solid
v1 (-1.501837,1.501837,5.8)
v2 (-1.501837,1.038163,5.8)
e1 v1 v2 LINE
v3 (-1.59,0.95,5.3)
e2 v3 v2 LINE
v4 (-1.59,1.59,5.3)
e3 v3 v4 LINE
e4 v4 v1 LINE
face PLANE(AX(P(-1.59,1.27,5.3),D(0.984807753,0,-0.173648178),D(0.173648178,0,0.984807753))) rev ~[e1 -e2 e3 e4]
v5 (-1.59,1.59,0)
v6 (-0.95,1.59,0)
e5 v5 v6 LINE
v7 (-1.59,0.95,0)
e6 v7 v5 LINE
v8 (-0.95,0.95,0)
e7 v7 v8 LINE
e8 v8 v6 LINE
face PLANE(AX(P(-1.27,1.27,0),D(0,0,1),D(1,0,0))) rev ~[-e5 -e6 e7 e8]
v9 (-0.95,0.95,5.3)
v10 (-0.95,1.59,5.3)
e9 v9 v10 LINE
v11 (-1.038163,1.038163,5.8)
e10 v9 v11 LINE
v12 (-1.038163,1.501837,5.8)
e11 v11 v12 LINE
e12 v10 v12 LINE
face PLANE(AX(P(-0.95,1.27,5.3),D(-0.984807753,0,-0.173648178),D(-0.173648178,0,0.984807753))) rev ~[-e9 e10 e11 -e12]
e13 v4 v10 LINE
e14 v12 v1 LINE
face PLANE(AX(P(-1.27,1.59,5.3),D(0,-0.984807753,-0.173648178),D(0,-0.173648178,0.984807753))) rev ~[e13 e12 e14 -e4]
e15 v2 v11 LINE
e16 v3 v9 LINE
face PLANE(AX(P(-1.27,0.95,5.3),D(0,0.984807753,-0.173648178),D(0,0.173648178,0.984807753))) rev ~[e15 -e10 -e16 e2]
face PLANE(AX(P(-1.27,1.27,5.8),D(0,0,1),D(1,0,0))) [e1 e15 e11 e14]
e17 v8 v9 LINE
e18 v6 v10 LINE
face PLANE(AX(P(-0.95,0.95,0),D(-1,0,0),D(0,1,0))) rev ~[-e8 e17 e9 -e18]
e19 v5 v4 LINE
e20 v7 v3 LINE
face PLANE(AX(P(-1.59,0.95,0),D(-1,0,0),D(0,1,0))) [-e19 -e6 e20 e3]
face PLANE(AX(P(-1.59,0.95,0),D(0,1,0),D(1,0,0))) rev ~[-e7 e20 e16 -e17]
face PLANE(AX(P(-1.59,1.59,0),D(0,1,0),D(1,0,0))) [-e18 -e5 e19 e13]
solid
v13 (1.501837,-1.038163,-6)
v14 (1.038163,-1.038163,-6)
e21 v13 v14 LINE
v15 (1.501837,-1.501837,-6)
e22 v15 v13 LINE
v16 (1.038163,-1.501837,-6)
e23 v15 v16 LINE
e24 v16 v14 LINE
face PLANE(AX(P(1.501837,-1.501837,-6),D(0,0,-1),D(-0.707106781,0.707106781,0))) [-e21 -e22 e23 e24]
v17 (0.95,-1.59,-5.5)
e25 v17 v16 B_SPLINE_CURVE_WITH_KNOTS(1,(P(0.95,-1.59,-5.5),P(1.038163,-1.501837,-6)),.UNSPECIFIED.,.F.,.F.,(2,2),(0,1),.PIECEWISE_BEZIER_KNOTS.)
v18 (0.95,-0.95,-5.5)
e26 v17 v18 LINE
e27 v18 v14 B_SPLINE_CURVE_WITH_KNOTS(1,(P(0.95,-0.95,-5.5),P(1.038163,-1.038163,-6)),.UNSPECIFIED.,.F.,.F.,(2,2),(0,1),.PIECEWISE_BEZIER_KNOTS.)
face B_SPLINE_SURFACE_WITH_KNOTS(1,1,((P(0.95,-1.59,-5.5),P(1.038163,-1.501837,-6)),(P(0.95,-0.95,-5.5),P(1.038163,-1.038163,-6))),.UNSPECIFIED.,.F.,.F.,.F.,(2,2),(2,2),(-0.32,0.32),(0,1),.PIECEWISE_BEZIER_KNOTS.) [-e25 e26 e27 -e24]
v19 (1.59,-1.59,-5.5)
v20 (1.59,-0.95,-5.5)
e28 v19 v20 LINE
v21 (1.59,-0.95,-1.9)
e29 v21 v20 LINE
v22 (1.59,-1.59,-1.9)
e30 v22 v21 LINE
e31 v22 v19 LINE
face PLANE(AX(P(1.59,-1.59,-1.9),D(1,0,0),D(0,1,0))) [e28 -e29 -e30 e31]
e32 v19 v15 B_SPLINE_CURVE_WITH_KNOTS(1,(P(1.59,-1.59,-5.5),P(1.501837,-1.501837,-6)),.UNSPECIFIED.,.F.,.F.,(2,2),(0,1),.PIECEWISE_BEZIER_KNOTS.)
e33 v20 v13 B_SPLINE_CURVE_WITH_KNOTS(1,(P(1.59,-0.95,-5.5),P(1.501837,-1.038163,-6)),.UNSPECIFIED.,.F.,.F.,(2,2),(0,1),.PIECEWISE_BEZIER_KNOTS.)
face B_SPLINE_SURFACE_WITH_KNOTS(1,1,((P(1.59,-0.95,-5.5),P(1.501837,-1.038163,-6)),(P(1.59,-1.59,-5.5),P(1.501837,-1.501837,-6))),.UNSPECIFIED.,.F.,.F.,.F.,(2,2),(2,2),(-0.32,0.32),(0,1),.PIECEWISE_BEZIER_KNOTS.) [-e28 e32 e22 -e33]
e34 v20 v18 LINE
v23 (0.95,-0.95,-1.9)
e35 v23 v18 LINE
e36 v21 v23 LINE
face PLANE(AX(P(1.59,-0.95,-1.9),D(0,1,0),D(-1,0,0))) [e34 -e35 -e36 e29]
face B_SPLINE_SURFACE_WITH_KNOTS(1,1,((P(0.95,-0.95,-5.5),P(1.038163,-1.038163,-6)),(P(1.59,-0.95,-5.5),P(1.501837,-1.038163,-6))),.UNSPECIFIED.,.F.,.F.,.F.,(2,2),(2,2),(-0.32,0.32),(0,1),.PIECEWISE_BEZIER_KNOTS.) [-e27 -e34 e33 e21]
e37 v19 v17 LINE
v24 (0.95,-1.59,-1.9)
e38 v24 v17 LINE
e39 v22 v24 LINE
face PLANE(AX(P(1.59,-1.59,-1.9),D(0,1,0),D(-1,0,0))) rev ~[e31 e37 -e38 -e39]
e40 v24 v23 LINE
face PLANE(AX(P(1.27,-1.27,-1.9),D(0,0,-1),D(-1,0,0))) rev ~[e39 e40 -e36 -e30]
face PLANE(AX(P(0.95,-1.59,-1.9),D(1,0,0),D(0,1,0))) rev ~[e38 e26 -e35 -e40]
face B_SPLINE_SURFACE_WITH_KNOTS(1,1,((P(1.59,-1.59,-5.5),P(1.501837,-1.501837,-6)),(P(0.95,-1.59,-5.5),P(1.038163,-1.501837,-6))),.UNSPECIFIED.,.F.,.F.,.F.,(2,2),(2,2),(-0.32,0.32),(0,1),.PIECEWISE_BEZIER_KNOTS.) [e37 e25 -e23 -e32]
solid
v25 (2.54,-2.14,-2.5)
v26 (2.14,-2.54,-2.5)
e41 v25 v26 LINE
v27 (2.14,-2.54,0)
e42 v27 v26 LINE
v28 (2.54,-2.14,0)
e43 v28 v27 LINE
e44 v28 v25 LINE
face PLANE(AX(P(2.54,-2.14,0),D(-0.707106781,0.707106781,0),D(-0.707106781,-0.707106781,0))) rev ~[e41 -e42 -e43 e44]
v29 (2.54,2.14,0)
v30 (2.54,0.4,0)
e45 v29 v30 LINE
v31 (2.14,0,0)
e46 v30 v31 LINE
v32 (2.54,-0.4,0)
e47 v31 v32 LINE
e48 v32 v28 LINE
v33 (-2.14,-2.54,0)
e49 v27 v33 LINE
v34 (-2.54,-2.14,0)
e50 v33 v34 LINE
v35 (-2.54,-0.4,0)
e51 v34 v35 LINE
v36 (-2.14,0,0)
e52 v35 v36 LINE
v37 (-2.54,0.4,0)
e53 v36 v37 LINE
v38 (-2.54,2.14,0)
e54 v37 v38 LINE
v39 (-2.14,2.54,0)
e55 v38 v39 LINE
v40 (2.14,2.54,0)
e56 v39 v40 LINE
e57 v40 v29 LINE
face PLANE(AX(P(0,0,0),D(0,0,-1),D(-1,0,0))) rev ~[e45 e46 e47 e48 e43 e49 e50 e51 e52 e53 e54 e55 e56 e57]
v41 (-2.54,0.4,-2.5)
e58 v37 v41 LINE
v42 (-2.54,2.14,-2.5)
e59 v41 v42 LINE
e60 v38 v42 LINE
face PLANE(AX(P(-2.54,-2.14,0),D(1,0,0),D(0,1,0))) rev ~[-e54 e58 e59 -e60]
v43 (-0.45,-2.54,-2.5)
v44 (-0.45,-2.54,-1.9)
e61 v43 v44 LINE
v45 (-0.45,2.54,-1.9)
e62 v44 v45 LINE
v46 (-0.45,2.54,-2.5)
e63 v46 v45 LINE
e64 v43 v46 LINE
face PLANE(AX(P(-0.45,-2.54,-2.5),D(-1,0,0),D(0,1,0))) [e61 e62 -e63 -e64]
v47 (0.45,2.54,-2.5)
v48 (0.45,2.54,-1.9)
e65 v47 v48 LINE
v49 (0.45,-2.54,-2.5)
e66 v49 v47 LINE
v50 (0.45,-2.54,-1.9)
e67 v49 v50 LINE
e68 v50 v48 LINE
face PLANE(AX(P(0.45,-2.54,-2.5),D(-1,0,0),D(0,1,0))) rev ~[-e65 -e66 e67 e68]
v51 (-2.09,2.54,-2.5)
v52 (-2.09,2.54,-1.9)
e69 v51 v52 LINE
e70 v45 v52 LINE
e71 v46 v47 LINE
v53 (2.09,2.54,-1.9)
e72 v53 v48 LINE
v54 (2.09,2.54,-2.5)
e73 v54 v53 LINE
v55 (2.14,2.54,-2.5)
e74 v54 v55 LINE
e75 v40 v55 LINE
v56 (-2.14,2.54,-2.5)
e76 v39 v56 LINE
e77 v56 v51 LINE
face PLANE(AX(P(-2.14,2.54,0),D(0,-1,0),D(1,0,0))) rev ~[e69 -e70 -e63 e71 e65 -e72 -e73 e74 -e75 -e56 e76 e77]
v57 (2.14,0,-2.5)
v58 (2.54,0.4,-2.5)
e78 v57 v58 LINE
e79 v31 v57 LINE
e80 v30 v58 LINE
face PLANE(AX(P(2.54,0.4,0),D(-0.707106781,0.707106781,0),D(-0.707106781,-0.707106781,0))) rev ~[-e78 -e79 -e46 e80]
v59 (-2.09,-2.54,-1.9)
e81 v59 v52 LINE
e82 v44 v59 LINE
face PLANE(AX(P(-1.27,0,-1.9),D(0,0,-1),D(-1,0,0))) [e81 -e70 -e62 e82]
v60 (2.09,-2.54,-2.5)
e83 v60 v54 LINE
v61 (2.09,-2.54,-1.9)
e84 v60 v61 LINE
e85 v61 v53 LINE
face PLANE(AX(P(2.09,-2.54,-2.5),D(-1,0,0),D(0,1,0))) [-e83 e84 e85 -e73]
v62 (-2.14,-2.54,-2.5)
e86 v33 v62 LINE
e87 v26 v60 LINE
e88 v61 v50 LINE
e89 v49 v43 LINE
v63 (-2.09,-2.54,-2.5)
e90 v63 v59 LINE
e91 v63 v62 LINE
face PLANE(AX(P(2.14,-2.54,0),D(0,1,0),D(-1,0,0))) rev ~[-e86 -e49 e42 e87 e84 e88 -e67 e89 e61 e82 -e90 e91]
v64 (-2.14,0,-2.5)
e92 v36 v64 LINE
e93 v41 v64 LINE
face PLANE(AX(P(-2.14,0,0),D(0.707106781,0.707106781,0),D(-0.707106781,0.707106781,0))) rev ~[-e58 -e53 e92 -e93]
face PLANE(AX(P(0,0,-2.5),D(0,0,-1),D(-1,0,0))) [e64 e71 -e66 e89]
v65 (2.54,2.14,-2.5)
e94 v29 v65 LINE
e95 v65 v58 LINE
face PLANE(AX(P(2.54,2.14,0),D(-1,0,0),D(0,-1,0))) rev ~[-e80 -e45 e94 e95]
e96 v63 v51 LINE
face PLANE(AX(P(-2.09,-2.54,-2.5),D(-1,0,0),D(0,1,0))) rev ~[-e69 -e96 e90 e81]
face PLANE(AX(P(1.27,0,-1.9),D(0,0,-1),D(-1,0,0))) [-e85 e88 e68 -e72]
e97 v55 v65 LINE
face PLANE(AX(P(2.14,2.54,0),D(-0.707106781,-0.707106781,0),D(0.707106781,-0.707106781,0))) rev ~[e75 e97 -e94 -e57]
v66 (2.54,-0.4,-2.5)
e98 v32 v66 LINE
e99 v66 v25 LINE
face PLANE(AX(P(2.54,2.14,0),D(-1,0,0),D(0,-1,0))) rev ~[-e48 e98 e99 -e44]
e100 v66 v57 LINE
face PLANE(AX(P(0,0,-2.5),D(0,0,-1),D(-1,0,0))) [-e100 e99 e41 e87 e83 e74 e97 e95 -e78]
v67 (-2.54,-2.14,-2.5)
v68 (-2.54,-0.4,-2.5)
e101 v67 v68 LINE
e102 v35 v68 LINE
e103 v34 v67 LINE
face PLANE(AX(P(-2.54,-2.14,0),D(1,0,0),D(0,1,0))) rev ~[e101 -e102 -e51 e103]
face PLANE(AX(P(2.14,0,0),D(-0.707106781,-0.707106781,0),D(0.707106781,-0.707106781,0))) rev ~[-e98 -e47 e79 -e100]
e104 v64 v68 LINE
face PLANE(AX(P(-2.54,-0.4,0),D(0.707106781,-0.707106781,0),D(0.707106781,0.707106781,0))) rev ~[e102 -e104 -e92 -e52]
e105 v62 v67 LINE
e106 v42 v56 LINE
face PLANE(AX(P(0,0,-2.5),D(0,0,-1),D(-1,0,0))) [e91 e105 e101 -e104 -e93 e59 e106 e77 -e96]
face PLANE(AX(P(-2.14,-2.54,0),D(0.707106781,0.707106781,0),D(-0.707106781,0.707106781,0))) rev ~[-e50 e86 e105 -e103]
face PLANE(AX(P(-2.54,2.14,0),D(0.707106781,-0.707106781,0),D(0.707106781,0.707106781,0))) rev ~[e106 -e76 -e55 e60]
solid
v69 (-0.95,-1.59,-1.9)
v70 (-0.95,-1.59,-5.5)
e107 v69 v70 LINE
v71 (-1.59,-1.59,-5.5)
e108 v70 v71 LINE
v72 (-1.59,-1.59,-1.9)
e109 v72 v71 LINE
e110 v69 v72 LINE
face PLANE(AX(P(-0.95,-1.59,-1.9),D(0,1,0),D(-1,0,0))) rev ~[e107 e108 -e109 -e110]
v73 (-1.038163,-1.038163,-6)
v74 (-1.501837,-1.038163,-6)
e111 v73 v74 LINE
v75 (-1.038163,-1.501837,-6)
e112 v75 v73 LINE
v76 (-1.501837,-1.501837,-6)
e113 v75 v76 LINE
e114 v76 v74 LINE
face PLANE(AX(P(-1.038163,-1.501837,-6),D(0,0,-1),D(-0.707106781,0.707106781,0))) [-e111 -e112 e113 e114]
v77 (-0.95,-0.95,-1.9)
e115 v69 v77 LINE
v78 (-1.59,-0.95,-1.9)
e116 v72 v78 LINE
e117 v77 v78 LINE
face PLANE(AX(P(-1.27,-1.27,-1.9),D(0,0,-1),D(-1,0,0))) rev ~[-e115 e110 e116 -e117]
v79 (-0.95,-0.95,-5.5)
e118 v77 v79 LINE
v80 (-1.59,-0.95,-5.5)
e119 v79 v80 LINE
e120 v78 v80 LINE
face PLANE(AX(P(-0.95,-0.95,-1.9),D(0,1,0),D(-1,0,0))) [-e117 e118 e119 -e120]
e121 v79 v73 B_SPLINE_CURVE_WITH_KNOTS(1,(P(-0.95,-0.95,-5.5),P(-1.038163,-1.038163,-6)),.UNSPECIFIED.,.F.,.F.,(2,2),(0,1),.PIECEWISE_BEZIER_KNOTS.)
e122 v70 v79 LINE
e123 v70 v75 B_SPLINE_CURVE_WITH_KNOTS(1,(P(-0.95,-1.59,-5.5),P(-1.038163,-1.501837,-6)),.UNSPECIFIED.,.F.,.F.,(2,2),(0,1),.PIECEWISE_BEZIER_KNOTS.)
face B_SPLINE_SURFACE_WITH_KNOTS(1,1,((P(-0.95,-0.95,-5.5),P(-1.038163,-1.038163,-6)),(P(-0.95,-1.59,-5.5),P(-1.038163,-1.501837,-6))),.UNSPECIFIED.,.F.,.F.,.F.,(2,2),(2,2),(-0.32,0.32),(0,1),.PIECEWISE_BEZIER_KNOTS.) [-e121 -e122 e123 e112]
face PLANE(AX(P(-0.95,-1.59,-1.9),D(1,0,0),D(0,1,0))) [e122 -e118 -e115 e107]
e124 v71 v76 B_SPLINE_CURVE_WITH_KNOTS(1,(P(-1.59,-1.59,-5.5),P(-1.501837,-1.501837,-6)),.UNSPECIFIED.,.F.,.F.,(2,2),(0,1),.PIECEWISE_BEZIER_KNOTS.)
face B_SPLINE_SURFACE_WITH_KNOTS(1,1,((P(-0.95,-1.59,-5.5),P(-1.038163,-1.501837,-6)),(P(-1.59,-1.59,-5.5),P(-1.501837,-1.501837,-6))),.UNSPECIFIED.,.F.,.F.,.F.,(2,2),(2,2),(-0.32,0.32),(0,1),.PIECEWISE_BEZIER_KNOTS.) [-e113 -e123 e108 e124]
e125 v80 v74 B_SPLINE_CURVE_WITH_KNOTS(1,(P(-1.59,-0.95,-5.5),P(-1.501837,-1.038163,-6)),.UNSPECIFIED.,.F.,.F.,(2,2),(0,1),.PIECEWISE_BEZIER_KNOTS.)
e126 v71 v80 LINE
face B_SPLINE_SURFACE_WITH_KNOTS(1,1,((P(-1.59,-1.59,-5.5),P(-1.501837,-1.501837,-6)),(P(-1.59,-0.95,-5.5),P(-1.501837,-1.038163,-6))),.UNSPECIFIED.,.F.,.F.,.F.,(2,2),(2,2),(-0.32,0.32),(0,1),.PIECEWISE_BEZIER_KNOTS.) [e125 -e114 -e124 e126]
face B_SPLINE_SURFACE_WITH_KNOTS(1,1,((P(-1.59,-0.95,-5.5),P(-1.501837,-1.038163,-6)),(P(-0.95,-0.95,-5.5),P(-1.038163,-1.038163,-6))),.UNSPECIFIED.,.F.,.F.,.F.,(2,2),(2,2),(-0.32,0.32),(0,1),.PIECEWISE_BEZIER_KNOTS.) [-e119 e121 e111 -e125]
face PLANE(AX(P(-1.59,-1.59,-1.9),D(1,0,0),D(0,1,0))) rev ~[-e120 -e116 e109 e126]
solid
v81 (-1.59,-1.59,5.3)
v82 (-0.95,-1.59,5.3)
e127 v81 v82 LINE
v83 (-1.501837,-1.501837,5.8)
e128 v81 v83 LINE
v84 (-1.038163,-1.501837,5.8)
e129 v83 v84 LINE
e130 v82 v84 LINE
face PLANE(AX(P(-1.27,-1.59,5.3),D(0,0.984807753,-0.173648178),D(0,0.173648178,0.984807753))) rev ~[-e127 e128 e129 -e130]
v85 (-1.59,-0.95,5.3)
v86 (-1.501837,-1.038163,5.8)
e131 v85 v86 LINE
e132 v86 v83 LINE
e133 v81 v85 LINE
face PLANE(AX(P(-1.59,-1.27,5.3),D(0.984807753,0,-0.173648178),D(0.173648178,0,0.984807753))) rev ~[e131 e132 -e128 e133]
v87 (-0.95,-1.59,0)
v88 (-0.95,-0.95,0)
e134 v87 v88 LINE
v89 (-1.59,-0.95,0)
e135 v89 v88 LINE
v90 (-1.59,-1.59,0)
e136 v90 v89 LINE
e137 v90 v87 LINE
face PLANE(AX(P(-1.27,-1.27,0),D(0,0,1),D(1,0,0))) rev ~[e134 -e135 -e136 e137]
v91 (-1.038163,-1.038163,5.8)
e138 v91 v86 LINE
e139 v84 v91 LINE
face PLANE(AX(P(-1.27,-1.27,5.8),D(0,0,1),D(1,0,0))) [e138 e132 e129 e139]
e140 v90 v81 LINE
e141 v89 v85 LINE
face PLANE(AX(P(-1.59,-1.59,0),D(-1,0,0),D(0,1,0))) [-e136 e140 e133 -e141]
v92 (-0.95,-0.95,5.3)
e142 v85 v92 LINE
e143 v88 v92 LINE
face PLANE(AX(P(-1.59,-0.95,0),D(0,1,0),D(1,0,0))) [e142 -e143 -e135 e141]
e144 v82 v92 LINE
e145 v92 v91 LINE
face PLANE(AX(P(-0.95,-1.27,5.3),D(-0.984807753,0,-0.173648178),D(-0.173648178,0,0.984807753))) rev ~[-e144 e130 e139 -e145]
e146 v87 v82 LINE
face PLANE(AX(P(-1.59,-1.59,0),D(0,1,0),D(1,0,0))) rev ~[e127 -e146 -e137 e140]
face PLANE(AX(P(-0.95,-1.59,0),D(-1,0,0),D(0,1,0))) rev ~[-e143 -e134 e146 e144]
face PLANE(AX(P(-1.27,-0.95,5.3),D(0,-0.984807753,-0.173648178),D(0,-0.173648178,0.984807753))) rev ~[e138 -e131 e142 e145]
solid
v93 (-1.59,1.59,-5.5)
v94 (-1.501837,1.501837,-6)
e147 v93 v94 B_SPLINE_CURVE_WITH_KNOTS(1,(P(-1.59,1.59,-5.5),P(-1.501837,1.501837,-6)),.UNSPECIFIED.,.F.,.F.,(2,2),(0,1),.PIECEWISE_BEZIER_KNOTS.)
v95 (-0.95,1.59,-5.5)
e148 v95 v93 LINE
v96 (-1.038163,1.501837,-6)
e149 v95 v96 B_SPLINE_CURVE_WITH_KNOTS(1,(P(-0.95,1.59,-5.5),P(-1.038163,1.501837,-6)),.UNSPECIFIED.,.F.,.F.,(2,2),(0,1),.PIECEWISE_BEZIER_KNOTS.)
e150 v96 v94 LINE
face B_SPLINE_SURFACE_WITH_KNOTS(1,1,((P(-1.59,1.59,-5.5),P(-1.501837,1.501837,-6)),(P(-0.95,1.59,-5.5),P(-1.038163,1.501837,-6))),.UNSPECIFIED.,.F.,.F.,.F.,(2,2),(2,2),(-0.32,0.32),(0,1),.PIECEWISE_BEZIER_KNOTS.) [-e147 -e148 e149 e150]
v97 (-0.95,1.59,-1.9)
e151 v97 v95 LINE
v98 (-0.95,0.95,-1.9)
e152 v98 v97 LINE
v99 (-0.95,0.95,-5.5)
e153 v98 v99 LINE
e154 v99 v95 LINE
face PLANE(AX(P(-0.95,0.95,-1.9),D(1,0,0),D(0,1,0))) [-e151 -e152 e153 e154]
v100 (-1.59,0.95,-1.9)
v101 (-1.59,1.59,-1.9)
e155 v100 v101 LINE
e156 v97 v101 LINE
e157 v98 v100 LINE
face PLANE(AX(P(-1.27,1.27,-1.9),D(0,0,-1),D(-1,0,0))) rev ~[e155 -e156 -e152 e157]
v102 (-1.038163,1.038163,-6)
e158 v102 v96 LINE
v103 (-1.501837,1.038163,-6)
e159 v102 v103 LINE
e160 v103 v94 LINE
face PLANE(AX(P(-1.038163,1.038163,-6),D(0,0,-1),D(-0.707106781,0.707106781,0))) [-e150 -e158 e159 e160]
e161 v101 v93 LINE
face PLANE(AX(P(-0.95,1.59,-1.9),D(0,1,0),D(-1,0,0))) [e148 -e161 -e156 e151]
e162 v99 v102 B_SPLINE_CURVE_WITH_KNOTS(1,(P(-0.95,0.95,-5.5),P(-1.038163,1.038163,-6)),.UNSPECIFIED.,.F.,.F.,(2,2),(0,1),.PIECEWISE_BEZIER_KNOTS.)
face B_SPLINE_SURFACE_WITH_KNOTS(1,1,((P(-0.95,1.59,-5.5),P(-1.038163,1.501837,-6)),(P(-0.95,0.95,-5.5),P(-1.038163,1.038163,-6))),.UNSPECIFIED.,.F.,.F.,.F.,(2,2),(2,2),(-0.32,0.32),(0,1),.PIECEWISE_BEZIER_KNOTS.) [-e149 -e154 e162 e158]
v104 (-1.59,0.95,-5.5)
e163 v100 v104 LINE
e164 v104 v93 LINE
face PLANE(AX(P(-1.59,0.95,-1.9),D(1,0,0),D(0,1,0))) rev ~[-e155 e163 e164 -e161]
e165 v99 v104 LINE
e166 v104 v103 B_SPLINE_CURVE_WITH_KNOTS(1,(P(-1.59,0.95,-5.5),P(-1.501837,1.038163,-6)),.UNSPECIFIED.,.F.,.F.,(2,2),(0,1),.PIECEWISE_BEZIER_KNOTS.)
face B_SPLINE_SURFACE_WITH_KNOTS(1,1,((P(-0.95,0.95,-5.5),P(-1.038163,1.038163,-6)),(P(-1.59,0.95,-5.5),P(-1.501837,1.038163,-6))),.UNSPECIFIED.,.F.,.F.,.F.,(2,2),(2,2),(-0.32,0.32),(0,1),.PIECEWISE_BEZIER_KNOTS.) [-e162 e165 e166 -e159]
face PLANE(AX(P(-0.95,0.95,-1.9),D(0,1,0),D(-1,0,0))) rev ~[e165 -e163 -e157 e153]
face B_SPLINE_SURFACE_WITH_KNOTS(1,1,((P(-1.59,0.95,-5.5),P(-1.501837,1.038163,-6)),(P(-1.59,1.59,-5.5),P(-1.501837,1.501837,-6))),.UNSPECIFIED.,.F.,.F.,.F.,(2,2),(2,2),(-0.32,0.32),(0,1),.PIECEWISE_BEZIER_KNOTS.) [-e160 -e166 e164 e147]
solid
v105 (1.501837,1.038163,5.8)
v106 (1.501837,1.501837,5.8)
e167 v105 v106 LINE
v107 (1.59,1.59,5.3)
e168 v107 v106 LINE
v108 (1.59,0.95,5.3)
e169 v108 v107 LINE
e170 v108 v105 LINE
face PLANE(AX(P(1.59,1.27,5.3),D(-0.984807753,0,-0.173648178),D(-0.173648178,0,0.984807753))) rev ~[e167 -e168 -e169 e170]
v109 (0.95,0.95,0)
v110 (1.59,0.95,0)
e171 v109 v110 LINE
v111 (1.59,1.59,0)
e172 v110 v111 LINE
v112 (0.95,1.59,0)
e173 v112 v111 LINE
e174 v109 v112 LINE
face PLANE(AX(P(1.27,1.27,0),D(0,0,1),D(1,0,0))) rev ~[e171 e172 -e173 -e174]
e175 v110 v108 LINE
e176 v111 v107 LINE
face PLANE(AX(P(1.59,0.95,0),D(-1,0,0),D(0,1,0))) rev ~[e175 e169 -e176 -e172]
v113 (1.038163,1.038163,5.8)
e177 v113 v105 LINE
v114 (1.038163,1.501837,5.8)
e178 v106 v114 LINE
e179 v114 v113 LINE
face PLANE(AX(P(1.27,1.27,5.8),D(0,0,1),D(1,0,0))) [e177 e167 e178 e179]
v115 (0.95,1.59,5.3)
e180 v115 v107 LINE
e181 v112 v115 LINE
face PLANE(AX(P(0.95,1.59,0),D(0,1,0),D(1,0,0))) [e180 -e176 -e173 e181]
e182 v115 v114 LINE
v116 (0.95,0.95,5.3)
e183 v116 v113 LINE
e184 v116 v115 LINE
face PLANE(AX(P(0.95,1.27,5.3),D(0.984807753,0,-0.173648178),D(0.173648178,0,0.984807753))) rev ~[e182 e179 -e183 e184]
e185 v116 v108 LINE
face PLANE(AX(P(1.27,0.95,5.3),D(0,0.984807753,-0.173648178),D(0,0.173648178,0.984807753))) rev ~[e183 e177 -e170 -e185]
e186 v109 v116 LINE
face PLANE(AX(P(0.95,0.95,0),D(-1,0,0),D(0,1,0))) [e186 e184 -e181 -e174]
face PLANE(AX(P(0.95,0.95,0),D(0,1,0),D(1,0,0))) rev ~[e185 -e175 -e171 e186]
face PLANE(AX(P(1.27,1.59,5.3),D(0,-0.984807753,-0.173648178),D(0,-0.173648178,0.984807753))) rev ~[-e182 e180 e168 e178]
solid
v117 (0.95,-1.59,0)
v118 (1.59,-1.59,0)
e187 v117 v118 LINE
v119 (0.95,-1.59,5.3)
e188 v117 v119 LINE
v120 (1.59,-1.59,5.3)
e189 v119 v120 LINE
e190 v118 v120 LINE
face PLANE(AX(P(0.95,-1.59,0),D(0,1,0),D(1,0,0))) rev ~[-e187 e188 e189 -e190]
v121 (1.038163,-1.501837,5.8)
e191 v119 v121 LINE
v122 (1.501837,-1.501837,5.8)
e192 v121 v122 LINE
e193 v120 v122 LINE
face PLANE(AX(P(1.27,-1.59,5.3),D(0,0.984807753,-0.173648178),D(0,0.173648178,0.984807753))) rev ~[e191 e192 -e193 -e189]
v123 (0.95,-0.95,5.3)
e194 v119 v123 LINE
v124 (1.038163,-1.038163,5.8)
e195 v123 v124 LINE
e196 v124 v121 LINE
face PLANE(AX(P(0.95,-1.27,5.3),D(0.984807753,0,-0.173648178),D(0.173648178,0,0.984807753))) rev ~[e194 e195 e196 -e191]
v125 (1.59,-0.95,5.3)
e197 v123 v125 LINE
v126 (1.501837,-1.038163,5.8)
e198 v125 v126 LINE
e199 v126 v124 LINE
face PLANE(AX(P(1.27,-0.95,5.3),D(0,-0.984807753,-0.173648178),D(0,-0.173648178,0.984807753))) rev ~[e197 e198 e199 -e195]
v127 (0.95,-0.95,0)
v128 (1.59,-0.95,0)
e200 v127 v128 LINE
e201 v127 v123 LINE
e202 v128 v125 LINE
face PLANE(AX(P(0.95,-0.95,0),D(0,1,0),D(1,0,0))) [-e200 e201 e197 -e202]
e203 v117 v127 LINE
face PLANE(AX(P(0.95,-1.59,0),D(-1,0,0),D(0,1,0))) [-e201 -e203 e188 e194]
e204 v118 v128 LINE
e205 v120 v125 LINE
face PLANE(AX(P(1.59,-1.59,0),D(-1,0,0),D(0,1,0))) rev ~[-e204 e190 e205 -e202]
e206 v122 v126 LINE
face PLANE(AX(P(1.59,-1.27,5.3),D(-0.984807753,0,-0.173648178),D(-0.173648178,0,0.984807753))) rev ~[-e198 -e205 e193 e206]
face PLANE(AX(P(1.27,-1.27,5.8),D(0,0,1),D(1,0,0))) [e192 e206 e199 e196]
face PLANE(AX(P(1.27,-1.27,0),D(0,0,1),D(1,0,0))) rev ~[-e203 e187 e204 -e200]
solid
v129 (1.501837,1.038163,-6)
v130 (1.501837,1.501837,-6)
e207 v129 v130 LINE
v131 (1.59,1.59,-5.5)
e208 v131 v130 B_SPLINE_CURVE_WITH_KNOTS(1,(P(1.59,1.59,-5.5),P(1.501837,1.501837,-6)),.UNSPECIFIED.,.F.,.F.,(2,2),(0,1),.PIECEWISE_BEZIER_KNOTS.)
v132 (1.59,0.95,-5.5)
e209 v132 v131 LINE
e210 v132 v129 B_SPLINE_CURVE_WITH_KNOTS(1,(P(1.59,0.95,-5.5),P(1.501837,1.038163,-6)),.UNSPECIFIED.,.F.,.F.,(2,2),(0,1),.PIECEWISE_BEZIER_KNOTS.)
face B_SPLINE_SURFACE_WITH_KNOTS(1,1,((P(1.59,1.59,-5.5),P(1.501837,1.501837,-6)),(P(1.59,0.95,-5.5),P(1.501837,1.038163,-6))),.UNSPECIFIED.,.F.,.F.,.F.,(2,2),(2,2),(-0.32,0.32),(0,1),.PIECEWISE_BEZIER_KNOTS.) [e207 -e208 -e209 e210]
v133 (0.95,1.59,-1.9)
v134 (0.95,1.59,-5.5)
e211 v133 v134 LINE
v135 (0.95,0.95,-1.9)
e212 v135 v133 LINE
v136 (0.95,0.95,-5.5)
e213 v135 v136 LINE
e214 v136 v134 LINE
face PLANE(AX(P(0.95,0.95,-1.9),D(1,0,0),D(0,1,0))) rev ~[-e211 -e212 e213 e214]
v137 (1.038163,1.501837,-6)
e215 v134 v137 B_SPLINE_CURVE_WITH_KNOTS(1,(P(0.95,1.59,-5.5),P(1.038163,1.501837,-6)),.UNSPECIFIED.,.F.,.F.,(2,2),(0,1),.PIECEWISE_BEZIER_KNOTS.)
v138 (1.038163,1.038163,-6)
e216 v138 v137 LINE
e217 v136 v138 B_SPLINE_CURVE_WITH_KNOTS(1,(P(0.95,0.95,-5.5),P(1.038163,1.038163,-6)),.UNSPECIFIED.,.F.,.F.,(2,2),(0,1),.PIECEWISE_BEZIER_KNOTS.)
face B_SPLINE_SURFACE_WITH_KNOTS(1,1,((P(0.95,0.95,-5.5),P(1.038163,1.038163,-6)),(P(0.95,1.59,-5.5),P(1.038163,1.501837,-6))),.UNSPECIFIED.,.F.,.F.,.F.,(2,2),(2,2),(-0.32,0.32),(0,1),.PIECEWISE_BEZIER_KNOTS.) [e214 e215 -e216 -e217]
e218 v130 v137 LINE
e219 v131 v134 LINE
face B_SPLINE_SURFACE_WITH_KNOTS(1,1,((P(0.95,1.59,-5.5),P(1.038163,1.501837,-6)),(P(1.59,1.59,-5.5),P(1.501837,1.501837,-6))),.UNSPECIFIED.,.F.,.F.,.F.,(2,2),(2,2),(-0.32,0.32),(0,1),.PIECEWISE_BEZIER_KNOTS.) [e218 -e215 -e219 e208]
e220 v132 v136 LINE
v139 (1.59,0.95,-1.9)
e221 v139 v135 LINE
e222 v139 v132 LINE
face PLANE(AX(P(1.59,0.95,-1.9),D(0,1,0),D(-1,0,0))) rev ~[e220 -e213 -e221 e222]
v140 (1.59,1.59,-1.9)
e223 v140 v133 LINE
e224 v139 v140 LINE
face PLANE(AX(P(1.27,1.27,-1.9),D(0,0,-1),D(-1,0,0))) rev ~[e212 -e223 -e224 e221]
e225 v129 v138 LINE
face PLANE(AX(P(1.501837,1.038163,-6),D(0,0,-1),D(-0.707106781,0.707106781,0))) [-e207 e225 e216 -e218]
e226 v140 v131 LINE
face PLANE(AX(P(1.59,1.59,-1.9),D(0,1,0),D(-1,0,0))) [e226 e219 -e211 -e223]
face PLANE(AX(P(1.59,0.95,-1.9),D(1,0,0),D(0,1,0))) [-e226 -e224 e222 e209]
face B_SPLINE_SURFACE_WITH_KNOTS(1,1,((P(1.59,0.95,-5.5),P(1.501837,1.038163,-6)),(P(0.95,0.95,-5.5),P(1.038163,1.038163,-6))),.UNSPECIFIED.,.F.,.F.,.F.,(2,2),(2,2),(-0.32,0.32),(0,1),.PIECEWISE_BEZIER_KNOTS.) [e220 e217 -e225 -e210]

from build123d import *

# Parameters (mm, degrees)
SKETCH1_W             = 0.64
SKETCH1_H             = 0.64
BOSS_EXTRUDE1_DEPTH   = 5.3
BOSS_EXTRUDE1_2_DEPTH = 5.3
BOSS_EXTRUDE1_3_DEPTH = 5.3
BOSS_EXTRUDE1_4_DEPTH = 5.3
SKETCH2_W             = 0.64
SKETCH2_H             = 0.64
BOSS_EXTRUDE2_DEPTH   = 0.5
BOSS_EXTRUDE2_TAPER   = 10
BOSS_EXTRUDE3_DEPTH   = 2.5
SKETCH5_W             = 1.64
SKETCH5_H             = 5.08
CUT_EXTRUDE1_DEPTH    = 0.6
CUT_EXTRUDE3_DEPTH    = 3.5
SKETCH8_W             = 0.64
SKETCH8_H             = 0.64
BOSS_EXTRUDE4_DEPTH   = 3.6
BOSS_EXTRUDE4_2_DEPTH = 3.6
BOSS_EXTRUDE4_3_DEPTH = 3.6
BOSS_EXTRUDE4_4_DEPTH = 3.6
SKETCH9_W             = 0.64
SKETCH9_H             = 0.64
BOSS_EXTRUDE5_DEPTH   = 0.5
BOSS_EXTRUDE5_TAPER   = 10


with BuildPart() as part:
    # Sketch1 → Boss-Extrude1 (new body)
    with BuildSketch(Plane.XY):
        with Locations((-1.27, 1.27)):
            Rectangle(SKETCH1_W, SKETCH1_H)
    extrude(amount=BOSS_EXTRUDE1_DEPTH)



with BuildPart() as body_2:
    # Sketch1 → Boss-Extrude1 2 (new body)
    with BuildSketch(Plane.XY):
        with Locations((-1.27, -1.27)):
            Rectangle(SKETCH1_W, SKETCH1_H)
    extrude(amount=BOSS_EXTRUDE1_2_DEPTH)


with BuildPart() as body_3:
    # Sketch1 → Boss-Extrude1 3 (new body)
    with BuildSketch(Plane.XY):
        with Locations((1.27, 1.27)):
            Rectangle(SKETCH1_W, SKETCH1_H)
    extrude(amount=BOSS_EXTRUDE1_3_DEPTH)


with BuildPart() as body_4:
    # Sketch1 → Boss-Extrude1 4 (new body)
    with BuildSketch(Plane.XY):
        with Locations((1.27, -1.27)):
            Rectangle(SKETCH1_W, SKETCH1_H)
    extrude(amount=BOSS_EXTRUDE1_4_DEPTH)


with BuildPart() as part_1:
    add(part.part)

    add(body_2.part)  # Boss-Extrude2 merges body 2

    add(body_3.part)  # Boss-Extrude2 merges body 3

    add(body_4.part)  # Boss-Extrude2 merges body 4
    # Sketch2 → Boss-Extrude2 (add)
    with BuildSketch(Plane.XY.offset(5.3)):
        with Locations((-1.27, -1.27)):
            Rectangle(SKETCH2_W, SKETCH2_H)
        with Locations((-1.27, 1.27)):
            Rectangle(SKETCH2_W, SKETCH2_H)
        with Locations((1.27, -1.27)):
            Rectangle(SKETCH2_W, SKETCH2_H)
        with Locations((1.27, 1.27)):
            Rectangle(SKETCH2_W, SKETCH2_H)
    extrude(amount=BOSS_EXTRUDE2_DEPTH, taper=BOSS_EXTRUDE2_TAPER)


with BuildPart() as body_2_2:
    # Sketch3 → Boss-Extrude3 (new body)
    with BuildSketch(Plane.XY):
        Polygon((-2.14, 2.54), (2.14, 2.54), (2.54, 2.14), (2.54, -2.14), (2.14, -2.54), (-2.14, -2.54), (-2.54, -2.14), (-2.54, 2.14), align=None)
    extrude(amount=-BOSS_EXTRUDE3_DEPTH)

    # Sketch5 → Cut-Extrude1 (cut)
    with BuildSketch(Plane(origin=(0, 0, -2.5), x_dir=(-1, 0, 0), z_dir=(0, 0, -1))):
        with Locations((-1.27, 0)):
            Rectangle(SKETCH5_W, SKETCH5_H)
        with Locations((1.27, 0)):
            Rectangle(SKETCH5_W, SKETCH5_H)
    extrude(amount=-CUT_EXTRUDE1_DEPTH, mode=Mode.SUBTRACT)

    # Sketch7 → Cut-Extrude3 (cut, through all)
    with BuildSketch(Plane.XY):
        Polygon((2.54, 0), (2.54, 0.4), (2.14, 0), align=None)
        Polygon((2.54, 0), (2.14, 0), (2.54, -0.4), align=None)
        Polygon((-2.54, 0), (-2.54, -0.4), (-2.14, 0), align=None)
        Polygon((-2.54, 0.4), (-2.54, 0), (-2.14, 0), align=None)
    extrude(amount=-CUT_EXTRUDE3_DEPTH, mode=Mode.SUBTRACT)


with BuildPart() as body_3_2:
    # Sketch8 → Boss-Extrude4 (new body)
    with BuildSketch(Plane(origin=(0, 0, -1.9), x_dir=(-1, 0, 0), z_dir=(0, 0, -1))):
        with Locations((1.27, -1.27)):
            Rectangle(SKETCH8_W, SKETCH8_H)
    extrude(amount=BOSS_EXTRUDE4_DEPTH)



with BuildPart() as body_4_2:
    # Sketch8 → Boss-Extrude4 2 (new body)
    with BuildSketch(Plane(origin=(0, 0, -1.9), x_dir=(-1, 0, 0), z_dir=(0, 0, -1))):
        with Locations((1.27, 1.27)):
            Rectangle(SKETCH8_W, SKETCH8_H)
    extrude(amount=BOSS_EXTRUDE4_2_DEPTH)


with BuildPart() as body_5:
    # Sketch8 → Boss-Extrude4 3 (new body)
    with BuildSketch(Plane(origin=(0, 0, -1.9), x_dir=(-1, 0, 0), z_dir=(0, 0, -1))):
        with Locations((-1.27, 1.27)):
            Rectangle(SKETCH8_W, SKETCH8_H)
    extrude(amount=BOSS_EXTRUDE4_3_DEPTH)


with BuildPart() as body_6:
    # Sketch8 → Boss-Extrude4 4 (new body)
    with BuildSketch(Plane(origin=(0, 0, -1.9), x_dir=(-1, 0, 0), z_dir=(0, 0, -1))):
        with Locations((-1.27, -1.27)):
            Rectangle(SKETCH8_W, SKETCH8_H)
    extrude(amount=BOSS_EXTRUDE4_4_DEPTH)


with BuildPart() as body_3_2_1:
    add(body_3_2.part)

    add(body_4_2.part)  # Boss-Extrude5 merges body 4 2

    add(body_5.part)  # Boss-Extrude5 merges body 5

    add(body_6.part)  # Boss-Extrude5 merges body 6
    # Sketch9 → Boss-Extrude5 (add)
    with BuildSketch(Plane(origin=(0, 0, -5.5), x_dir=(-1, 0, 0), z_dir=(0, 0, -1))):
        with Locations((1.27, 1.27)):
            Rectangle(SKETCH9_W, SKETCH9_H)
        with Locations((1.27, -1.27)):
            Rectangle(SKETCH9_W, SKETCH9_H)
        with Locations((-1.27, -1.27)):
            Rectangle(SKETCH9_W, SKETCH9_H)
        with Locations((-1.27, 1.27)):
            Rectangle(SKETCH9_W, SKETCH9_H)
    extrude(amount=BOSS_EXTRUDE5_DEPTH, taper=BOSS_EXTRUDE5_TAPER)


solid = Compound([part_1.part, body_2_2.part, body_3_2_1.part])
